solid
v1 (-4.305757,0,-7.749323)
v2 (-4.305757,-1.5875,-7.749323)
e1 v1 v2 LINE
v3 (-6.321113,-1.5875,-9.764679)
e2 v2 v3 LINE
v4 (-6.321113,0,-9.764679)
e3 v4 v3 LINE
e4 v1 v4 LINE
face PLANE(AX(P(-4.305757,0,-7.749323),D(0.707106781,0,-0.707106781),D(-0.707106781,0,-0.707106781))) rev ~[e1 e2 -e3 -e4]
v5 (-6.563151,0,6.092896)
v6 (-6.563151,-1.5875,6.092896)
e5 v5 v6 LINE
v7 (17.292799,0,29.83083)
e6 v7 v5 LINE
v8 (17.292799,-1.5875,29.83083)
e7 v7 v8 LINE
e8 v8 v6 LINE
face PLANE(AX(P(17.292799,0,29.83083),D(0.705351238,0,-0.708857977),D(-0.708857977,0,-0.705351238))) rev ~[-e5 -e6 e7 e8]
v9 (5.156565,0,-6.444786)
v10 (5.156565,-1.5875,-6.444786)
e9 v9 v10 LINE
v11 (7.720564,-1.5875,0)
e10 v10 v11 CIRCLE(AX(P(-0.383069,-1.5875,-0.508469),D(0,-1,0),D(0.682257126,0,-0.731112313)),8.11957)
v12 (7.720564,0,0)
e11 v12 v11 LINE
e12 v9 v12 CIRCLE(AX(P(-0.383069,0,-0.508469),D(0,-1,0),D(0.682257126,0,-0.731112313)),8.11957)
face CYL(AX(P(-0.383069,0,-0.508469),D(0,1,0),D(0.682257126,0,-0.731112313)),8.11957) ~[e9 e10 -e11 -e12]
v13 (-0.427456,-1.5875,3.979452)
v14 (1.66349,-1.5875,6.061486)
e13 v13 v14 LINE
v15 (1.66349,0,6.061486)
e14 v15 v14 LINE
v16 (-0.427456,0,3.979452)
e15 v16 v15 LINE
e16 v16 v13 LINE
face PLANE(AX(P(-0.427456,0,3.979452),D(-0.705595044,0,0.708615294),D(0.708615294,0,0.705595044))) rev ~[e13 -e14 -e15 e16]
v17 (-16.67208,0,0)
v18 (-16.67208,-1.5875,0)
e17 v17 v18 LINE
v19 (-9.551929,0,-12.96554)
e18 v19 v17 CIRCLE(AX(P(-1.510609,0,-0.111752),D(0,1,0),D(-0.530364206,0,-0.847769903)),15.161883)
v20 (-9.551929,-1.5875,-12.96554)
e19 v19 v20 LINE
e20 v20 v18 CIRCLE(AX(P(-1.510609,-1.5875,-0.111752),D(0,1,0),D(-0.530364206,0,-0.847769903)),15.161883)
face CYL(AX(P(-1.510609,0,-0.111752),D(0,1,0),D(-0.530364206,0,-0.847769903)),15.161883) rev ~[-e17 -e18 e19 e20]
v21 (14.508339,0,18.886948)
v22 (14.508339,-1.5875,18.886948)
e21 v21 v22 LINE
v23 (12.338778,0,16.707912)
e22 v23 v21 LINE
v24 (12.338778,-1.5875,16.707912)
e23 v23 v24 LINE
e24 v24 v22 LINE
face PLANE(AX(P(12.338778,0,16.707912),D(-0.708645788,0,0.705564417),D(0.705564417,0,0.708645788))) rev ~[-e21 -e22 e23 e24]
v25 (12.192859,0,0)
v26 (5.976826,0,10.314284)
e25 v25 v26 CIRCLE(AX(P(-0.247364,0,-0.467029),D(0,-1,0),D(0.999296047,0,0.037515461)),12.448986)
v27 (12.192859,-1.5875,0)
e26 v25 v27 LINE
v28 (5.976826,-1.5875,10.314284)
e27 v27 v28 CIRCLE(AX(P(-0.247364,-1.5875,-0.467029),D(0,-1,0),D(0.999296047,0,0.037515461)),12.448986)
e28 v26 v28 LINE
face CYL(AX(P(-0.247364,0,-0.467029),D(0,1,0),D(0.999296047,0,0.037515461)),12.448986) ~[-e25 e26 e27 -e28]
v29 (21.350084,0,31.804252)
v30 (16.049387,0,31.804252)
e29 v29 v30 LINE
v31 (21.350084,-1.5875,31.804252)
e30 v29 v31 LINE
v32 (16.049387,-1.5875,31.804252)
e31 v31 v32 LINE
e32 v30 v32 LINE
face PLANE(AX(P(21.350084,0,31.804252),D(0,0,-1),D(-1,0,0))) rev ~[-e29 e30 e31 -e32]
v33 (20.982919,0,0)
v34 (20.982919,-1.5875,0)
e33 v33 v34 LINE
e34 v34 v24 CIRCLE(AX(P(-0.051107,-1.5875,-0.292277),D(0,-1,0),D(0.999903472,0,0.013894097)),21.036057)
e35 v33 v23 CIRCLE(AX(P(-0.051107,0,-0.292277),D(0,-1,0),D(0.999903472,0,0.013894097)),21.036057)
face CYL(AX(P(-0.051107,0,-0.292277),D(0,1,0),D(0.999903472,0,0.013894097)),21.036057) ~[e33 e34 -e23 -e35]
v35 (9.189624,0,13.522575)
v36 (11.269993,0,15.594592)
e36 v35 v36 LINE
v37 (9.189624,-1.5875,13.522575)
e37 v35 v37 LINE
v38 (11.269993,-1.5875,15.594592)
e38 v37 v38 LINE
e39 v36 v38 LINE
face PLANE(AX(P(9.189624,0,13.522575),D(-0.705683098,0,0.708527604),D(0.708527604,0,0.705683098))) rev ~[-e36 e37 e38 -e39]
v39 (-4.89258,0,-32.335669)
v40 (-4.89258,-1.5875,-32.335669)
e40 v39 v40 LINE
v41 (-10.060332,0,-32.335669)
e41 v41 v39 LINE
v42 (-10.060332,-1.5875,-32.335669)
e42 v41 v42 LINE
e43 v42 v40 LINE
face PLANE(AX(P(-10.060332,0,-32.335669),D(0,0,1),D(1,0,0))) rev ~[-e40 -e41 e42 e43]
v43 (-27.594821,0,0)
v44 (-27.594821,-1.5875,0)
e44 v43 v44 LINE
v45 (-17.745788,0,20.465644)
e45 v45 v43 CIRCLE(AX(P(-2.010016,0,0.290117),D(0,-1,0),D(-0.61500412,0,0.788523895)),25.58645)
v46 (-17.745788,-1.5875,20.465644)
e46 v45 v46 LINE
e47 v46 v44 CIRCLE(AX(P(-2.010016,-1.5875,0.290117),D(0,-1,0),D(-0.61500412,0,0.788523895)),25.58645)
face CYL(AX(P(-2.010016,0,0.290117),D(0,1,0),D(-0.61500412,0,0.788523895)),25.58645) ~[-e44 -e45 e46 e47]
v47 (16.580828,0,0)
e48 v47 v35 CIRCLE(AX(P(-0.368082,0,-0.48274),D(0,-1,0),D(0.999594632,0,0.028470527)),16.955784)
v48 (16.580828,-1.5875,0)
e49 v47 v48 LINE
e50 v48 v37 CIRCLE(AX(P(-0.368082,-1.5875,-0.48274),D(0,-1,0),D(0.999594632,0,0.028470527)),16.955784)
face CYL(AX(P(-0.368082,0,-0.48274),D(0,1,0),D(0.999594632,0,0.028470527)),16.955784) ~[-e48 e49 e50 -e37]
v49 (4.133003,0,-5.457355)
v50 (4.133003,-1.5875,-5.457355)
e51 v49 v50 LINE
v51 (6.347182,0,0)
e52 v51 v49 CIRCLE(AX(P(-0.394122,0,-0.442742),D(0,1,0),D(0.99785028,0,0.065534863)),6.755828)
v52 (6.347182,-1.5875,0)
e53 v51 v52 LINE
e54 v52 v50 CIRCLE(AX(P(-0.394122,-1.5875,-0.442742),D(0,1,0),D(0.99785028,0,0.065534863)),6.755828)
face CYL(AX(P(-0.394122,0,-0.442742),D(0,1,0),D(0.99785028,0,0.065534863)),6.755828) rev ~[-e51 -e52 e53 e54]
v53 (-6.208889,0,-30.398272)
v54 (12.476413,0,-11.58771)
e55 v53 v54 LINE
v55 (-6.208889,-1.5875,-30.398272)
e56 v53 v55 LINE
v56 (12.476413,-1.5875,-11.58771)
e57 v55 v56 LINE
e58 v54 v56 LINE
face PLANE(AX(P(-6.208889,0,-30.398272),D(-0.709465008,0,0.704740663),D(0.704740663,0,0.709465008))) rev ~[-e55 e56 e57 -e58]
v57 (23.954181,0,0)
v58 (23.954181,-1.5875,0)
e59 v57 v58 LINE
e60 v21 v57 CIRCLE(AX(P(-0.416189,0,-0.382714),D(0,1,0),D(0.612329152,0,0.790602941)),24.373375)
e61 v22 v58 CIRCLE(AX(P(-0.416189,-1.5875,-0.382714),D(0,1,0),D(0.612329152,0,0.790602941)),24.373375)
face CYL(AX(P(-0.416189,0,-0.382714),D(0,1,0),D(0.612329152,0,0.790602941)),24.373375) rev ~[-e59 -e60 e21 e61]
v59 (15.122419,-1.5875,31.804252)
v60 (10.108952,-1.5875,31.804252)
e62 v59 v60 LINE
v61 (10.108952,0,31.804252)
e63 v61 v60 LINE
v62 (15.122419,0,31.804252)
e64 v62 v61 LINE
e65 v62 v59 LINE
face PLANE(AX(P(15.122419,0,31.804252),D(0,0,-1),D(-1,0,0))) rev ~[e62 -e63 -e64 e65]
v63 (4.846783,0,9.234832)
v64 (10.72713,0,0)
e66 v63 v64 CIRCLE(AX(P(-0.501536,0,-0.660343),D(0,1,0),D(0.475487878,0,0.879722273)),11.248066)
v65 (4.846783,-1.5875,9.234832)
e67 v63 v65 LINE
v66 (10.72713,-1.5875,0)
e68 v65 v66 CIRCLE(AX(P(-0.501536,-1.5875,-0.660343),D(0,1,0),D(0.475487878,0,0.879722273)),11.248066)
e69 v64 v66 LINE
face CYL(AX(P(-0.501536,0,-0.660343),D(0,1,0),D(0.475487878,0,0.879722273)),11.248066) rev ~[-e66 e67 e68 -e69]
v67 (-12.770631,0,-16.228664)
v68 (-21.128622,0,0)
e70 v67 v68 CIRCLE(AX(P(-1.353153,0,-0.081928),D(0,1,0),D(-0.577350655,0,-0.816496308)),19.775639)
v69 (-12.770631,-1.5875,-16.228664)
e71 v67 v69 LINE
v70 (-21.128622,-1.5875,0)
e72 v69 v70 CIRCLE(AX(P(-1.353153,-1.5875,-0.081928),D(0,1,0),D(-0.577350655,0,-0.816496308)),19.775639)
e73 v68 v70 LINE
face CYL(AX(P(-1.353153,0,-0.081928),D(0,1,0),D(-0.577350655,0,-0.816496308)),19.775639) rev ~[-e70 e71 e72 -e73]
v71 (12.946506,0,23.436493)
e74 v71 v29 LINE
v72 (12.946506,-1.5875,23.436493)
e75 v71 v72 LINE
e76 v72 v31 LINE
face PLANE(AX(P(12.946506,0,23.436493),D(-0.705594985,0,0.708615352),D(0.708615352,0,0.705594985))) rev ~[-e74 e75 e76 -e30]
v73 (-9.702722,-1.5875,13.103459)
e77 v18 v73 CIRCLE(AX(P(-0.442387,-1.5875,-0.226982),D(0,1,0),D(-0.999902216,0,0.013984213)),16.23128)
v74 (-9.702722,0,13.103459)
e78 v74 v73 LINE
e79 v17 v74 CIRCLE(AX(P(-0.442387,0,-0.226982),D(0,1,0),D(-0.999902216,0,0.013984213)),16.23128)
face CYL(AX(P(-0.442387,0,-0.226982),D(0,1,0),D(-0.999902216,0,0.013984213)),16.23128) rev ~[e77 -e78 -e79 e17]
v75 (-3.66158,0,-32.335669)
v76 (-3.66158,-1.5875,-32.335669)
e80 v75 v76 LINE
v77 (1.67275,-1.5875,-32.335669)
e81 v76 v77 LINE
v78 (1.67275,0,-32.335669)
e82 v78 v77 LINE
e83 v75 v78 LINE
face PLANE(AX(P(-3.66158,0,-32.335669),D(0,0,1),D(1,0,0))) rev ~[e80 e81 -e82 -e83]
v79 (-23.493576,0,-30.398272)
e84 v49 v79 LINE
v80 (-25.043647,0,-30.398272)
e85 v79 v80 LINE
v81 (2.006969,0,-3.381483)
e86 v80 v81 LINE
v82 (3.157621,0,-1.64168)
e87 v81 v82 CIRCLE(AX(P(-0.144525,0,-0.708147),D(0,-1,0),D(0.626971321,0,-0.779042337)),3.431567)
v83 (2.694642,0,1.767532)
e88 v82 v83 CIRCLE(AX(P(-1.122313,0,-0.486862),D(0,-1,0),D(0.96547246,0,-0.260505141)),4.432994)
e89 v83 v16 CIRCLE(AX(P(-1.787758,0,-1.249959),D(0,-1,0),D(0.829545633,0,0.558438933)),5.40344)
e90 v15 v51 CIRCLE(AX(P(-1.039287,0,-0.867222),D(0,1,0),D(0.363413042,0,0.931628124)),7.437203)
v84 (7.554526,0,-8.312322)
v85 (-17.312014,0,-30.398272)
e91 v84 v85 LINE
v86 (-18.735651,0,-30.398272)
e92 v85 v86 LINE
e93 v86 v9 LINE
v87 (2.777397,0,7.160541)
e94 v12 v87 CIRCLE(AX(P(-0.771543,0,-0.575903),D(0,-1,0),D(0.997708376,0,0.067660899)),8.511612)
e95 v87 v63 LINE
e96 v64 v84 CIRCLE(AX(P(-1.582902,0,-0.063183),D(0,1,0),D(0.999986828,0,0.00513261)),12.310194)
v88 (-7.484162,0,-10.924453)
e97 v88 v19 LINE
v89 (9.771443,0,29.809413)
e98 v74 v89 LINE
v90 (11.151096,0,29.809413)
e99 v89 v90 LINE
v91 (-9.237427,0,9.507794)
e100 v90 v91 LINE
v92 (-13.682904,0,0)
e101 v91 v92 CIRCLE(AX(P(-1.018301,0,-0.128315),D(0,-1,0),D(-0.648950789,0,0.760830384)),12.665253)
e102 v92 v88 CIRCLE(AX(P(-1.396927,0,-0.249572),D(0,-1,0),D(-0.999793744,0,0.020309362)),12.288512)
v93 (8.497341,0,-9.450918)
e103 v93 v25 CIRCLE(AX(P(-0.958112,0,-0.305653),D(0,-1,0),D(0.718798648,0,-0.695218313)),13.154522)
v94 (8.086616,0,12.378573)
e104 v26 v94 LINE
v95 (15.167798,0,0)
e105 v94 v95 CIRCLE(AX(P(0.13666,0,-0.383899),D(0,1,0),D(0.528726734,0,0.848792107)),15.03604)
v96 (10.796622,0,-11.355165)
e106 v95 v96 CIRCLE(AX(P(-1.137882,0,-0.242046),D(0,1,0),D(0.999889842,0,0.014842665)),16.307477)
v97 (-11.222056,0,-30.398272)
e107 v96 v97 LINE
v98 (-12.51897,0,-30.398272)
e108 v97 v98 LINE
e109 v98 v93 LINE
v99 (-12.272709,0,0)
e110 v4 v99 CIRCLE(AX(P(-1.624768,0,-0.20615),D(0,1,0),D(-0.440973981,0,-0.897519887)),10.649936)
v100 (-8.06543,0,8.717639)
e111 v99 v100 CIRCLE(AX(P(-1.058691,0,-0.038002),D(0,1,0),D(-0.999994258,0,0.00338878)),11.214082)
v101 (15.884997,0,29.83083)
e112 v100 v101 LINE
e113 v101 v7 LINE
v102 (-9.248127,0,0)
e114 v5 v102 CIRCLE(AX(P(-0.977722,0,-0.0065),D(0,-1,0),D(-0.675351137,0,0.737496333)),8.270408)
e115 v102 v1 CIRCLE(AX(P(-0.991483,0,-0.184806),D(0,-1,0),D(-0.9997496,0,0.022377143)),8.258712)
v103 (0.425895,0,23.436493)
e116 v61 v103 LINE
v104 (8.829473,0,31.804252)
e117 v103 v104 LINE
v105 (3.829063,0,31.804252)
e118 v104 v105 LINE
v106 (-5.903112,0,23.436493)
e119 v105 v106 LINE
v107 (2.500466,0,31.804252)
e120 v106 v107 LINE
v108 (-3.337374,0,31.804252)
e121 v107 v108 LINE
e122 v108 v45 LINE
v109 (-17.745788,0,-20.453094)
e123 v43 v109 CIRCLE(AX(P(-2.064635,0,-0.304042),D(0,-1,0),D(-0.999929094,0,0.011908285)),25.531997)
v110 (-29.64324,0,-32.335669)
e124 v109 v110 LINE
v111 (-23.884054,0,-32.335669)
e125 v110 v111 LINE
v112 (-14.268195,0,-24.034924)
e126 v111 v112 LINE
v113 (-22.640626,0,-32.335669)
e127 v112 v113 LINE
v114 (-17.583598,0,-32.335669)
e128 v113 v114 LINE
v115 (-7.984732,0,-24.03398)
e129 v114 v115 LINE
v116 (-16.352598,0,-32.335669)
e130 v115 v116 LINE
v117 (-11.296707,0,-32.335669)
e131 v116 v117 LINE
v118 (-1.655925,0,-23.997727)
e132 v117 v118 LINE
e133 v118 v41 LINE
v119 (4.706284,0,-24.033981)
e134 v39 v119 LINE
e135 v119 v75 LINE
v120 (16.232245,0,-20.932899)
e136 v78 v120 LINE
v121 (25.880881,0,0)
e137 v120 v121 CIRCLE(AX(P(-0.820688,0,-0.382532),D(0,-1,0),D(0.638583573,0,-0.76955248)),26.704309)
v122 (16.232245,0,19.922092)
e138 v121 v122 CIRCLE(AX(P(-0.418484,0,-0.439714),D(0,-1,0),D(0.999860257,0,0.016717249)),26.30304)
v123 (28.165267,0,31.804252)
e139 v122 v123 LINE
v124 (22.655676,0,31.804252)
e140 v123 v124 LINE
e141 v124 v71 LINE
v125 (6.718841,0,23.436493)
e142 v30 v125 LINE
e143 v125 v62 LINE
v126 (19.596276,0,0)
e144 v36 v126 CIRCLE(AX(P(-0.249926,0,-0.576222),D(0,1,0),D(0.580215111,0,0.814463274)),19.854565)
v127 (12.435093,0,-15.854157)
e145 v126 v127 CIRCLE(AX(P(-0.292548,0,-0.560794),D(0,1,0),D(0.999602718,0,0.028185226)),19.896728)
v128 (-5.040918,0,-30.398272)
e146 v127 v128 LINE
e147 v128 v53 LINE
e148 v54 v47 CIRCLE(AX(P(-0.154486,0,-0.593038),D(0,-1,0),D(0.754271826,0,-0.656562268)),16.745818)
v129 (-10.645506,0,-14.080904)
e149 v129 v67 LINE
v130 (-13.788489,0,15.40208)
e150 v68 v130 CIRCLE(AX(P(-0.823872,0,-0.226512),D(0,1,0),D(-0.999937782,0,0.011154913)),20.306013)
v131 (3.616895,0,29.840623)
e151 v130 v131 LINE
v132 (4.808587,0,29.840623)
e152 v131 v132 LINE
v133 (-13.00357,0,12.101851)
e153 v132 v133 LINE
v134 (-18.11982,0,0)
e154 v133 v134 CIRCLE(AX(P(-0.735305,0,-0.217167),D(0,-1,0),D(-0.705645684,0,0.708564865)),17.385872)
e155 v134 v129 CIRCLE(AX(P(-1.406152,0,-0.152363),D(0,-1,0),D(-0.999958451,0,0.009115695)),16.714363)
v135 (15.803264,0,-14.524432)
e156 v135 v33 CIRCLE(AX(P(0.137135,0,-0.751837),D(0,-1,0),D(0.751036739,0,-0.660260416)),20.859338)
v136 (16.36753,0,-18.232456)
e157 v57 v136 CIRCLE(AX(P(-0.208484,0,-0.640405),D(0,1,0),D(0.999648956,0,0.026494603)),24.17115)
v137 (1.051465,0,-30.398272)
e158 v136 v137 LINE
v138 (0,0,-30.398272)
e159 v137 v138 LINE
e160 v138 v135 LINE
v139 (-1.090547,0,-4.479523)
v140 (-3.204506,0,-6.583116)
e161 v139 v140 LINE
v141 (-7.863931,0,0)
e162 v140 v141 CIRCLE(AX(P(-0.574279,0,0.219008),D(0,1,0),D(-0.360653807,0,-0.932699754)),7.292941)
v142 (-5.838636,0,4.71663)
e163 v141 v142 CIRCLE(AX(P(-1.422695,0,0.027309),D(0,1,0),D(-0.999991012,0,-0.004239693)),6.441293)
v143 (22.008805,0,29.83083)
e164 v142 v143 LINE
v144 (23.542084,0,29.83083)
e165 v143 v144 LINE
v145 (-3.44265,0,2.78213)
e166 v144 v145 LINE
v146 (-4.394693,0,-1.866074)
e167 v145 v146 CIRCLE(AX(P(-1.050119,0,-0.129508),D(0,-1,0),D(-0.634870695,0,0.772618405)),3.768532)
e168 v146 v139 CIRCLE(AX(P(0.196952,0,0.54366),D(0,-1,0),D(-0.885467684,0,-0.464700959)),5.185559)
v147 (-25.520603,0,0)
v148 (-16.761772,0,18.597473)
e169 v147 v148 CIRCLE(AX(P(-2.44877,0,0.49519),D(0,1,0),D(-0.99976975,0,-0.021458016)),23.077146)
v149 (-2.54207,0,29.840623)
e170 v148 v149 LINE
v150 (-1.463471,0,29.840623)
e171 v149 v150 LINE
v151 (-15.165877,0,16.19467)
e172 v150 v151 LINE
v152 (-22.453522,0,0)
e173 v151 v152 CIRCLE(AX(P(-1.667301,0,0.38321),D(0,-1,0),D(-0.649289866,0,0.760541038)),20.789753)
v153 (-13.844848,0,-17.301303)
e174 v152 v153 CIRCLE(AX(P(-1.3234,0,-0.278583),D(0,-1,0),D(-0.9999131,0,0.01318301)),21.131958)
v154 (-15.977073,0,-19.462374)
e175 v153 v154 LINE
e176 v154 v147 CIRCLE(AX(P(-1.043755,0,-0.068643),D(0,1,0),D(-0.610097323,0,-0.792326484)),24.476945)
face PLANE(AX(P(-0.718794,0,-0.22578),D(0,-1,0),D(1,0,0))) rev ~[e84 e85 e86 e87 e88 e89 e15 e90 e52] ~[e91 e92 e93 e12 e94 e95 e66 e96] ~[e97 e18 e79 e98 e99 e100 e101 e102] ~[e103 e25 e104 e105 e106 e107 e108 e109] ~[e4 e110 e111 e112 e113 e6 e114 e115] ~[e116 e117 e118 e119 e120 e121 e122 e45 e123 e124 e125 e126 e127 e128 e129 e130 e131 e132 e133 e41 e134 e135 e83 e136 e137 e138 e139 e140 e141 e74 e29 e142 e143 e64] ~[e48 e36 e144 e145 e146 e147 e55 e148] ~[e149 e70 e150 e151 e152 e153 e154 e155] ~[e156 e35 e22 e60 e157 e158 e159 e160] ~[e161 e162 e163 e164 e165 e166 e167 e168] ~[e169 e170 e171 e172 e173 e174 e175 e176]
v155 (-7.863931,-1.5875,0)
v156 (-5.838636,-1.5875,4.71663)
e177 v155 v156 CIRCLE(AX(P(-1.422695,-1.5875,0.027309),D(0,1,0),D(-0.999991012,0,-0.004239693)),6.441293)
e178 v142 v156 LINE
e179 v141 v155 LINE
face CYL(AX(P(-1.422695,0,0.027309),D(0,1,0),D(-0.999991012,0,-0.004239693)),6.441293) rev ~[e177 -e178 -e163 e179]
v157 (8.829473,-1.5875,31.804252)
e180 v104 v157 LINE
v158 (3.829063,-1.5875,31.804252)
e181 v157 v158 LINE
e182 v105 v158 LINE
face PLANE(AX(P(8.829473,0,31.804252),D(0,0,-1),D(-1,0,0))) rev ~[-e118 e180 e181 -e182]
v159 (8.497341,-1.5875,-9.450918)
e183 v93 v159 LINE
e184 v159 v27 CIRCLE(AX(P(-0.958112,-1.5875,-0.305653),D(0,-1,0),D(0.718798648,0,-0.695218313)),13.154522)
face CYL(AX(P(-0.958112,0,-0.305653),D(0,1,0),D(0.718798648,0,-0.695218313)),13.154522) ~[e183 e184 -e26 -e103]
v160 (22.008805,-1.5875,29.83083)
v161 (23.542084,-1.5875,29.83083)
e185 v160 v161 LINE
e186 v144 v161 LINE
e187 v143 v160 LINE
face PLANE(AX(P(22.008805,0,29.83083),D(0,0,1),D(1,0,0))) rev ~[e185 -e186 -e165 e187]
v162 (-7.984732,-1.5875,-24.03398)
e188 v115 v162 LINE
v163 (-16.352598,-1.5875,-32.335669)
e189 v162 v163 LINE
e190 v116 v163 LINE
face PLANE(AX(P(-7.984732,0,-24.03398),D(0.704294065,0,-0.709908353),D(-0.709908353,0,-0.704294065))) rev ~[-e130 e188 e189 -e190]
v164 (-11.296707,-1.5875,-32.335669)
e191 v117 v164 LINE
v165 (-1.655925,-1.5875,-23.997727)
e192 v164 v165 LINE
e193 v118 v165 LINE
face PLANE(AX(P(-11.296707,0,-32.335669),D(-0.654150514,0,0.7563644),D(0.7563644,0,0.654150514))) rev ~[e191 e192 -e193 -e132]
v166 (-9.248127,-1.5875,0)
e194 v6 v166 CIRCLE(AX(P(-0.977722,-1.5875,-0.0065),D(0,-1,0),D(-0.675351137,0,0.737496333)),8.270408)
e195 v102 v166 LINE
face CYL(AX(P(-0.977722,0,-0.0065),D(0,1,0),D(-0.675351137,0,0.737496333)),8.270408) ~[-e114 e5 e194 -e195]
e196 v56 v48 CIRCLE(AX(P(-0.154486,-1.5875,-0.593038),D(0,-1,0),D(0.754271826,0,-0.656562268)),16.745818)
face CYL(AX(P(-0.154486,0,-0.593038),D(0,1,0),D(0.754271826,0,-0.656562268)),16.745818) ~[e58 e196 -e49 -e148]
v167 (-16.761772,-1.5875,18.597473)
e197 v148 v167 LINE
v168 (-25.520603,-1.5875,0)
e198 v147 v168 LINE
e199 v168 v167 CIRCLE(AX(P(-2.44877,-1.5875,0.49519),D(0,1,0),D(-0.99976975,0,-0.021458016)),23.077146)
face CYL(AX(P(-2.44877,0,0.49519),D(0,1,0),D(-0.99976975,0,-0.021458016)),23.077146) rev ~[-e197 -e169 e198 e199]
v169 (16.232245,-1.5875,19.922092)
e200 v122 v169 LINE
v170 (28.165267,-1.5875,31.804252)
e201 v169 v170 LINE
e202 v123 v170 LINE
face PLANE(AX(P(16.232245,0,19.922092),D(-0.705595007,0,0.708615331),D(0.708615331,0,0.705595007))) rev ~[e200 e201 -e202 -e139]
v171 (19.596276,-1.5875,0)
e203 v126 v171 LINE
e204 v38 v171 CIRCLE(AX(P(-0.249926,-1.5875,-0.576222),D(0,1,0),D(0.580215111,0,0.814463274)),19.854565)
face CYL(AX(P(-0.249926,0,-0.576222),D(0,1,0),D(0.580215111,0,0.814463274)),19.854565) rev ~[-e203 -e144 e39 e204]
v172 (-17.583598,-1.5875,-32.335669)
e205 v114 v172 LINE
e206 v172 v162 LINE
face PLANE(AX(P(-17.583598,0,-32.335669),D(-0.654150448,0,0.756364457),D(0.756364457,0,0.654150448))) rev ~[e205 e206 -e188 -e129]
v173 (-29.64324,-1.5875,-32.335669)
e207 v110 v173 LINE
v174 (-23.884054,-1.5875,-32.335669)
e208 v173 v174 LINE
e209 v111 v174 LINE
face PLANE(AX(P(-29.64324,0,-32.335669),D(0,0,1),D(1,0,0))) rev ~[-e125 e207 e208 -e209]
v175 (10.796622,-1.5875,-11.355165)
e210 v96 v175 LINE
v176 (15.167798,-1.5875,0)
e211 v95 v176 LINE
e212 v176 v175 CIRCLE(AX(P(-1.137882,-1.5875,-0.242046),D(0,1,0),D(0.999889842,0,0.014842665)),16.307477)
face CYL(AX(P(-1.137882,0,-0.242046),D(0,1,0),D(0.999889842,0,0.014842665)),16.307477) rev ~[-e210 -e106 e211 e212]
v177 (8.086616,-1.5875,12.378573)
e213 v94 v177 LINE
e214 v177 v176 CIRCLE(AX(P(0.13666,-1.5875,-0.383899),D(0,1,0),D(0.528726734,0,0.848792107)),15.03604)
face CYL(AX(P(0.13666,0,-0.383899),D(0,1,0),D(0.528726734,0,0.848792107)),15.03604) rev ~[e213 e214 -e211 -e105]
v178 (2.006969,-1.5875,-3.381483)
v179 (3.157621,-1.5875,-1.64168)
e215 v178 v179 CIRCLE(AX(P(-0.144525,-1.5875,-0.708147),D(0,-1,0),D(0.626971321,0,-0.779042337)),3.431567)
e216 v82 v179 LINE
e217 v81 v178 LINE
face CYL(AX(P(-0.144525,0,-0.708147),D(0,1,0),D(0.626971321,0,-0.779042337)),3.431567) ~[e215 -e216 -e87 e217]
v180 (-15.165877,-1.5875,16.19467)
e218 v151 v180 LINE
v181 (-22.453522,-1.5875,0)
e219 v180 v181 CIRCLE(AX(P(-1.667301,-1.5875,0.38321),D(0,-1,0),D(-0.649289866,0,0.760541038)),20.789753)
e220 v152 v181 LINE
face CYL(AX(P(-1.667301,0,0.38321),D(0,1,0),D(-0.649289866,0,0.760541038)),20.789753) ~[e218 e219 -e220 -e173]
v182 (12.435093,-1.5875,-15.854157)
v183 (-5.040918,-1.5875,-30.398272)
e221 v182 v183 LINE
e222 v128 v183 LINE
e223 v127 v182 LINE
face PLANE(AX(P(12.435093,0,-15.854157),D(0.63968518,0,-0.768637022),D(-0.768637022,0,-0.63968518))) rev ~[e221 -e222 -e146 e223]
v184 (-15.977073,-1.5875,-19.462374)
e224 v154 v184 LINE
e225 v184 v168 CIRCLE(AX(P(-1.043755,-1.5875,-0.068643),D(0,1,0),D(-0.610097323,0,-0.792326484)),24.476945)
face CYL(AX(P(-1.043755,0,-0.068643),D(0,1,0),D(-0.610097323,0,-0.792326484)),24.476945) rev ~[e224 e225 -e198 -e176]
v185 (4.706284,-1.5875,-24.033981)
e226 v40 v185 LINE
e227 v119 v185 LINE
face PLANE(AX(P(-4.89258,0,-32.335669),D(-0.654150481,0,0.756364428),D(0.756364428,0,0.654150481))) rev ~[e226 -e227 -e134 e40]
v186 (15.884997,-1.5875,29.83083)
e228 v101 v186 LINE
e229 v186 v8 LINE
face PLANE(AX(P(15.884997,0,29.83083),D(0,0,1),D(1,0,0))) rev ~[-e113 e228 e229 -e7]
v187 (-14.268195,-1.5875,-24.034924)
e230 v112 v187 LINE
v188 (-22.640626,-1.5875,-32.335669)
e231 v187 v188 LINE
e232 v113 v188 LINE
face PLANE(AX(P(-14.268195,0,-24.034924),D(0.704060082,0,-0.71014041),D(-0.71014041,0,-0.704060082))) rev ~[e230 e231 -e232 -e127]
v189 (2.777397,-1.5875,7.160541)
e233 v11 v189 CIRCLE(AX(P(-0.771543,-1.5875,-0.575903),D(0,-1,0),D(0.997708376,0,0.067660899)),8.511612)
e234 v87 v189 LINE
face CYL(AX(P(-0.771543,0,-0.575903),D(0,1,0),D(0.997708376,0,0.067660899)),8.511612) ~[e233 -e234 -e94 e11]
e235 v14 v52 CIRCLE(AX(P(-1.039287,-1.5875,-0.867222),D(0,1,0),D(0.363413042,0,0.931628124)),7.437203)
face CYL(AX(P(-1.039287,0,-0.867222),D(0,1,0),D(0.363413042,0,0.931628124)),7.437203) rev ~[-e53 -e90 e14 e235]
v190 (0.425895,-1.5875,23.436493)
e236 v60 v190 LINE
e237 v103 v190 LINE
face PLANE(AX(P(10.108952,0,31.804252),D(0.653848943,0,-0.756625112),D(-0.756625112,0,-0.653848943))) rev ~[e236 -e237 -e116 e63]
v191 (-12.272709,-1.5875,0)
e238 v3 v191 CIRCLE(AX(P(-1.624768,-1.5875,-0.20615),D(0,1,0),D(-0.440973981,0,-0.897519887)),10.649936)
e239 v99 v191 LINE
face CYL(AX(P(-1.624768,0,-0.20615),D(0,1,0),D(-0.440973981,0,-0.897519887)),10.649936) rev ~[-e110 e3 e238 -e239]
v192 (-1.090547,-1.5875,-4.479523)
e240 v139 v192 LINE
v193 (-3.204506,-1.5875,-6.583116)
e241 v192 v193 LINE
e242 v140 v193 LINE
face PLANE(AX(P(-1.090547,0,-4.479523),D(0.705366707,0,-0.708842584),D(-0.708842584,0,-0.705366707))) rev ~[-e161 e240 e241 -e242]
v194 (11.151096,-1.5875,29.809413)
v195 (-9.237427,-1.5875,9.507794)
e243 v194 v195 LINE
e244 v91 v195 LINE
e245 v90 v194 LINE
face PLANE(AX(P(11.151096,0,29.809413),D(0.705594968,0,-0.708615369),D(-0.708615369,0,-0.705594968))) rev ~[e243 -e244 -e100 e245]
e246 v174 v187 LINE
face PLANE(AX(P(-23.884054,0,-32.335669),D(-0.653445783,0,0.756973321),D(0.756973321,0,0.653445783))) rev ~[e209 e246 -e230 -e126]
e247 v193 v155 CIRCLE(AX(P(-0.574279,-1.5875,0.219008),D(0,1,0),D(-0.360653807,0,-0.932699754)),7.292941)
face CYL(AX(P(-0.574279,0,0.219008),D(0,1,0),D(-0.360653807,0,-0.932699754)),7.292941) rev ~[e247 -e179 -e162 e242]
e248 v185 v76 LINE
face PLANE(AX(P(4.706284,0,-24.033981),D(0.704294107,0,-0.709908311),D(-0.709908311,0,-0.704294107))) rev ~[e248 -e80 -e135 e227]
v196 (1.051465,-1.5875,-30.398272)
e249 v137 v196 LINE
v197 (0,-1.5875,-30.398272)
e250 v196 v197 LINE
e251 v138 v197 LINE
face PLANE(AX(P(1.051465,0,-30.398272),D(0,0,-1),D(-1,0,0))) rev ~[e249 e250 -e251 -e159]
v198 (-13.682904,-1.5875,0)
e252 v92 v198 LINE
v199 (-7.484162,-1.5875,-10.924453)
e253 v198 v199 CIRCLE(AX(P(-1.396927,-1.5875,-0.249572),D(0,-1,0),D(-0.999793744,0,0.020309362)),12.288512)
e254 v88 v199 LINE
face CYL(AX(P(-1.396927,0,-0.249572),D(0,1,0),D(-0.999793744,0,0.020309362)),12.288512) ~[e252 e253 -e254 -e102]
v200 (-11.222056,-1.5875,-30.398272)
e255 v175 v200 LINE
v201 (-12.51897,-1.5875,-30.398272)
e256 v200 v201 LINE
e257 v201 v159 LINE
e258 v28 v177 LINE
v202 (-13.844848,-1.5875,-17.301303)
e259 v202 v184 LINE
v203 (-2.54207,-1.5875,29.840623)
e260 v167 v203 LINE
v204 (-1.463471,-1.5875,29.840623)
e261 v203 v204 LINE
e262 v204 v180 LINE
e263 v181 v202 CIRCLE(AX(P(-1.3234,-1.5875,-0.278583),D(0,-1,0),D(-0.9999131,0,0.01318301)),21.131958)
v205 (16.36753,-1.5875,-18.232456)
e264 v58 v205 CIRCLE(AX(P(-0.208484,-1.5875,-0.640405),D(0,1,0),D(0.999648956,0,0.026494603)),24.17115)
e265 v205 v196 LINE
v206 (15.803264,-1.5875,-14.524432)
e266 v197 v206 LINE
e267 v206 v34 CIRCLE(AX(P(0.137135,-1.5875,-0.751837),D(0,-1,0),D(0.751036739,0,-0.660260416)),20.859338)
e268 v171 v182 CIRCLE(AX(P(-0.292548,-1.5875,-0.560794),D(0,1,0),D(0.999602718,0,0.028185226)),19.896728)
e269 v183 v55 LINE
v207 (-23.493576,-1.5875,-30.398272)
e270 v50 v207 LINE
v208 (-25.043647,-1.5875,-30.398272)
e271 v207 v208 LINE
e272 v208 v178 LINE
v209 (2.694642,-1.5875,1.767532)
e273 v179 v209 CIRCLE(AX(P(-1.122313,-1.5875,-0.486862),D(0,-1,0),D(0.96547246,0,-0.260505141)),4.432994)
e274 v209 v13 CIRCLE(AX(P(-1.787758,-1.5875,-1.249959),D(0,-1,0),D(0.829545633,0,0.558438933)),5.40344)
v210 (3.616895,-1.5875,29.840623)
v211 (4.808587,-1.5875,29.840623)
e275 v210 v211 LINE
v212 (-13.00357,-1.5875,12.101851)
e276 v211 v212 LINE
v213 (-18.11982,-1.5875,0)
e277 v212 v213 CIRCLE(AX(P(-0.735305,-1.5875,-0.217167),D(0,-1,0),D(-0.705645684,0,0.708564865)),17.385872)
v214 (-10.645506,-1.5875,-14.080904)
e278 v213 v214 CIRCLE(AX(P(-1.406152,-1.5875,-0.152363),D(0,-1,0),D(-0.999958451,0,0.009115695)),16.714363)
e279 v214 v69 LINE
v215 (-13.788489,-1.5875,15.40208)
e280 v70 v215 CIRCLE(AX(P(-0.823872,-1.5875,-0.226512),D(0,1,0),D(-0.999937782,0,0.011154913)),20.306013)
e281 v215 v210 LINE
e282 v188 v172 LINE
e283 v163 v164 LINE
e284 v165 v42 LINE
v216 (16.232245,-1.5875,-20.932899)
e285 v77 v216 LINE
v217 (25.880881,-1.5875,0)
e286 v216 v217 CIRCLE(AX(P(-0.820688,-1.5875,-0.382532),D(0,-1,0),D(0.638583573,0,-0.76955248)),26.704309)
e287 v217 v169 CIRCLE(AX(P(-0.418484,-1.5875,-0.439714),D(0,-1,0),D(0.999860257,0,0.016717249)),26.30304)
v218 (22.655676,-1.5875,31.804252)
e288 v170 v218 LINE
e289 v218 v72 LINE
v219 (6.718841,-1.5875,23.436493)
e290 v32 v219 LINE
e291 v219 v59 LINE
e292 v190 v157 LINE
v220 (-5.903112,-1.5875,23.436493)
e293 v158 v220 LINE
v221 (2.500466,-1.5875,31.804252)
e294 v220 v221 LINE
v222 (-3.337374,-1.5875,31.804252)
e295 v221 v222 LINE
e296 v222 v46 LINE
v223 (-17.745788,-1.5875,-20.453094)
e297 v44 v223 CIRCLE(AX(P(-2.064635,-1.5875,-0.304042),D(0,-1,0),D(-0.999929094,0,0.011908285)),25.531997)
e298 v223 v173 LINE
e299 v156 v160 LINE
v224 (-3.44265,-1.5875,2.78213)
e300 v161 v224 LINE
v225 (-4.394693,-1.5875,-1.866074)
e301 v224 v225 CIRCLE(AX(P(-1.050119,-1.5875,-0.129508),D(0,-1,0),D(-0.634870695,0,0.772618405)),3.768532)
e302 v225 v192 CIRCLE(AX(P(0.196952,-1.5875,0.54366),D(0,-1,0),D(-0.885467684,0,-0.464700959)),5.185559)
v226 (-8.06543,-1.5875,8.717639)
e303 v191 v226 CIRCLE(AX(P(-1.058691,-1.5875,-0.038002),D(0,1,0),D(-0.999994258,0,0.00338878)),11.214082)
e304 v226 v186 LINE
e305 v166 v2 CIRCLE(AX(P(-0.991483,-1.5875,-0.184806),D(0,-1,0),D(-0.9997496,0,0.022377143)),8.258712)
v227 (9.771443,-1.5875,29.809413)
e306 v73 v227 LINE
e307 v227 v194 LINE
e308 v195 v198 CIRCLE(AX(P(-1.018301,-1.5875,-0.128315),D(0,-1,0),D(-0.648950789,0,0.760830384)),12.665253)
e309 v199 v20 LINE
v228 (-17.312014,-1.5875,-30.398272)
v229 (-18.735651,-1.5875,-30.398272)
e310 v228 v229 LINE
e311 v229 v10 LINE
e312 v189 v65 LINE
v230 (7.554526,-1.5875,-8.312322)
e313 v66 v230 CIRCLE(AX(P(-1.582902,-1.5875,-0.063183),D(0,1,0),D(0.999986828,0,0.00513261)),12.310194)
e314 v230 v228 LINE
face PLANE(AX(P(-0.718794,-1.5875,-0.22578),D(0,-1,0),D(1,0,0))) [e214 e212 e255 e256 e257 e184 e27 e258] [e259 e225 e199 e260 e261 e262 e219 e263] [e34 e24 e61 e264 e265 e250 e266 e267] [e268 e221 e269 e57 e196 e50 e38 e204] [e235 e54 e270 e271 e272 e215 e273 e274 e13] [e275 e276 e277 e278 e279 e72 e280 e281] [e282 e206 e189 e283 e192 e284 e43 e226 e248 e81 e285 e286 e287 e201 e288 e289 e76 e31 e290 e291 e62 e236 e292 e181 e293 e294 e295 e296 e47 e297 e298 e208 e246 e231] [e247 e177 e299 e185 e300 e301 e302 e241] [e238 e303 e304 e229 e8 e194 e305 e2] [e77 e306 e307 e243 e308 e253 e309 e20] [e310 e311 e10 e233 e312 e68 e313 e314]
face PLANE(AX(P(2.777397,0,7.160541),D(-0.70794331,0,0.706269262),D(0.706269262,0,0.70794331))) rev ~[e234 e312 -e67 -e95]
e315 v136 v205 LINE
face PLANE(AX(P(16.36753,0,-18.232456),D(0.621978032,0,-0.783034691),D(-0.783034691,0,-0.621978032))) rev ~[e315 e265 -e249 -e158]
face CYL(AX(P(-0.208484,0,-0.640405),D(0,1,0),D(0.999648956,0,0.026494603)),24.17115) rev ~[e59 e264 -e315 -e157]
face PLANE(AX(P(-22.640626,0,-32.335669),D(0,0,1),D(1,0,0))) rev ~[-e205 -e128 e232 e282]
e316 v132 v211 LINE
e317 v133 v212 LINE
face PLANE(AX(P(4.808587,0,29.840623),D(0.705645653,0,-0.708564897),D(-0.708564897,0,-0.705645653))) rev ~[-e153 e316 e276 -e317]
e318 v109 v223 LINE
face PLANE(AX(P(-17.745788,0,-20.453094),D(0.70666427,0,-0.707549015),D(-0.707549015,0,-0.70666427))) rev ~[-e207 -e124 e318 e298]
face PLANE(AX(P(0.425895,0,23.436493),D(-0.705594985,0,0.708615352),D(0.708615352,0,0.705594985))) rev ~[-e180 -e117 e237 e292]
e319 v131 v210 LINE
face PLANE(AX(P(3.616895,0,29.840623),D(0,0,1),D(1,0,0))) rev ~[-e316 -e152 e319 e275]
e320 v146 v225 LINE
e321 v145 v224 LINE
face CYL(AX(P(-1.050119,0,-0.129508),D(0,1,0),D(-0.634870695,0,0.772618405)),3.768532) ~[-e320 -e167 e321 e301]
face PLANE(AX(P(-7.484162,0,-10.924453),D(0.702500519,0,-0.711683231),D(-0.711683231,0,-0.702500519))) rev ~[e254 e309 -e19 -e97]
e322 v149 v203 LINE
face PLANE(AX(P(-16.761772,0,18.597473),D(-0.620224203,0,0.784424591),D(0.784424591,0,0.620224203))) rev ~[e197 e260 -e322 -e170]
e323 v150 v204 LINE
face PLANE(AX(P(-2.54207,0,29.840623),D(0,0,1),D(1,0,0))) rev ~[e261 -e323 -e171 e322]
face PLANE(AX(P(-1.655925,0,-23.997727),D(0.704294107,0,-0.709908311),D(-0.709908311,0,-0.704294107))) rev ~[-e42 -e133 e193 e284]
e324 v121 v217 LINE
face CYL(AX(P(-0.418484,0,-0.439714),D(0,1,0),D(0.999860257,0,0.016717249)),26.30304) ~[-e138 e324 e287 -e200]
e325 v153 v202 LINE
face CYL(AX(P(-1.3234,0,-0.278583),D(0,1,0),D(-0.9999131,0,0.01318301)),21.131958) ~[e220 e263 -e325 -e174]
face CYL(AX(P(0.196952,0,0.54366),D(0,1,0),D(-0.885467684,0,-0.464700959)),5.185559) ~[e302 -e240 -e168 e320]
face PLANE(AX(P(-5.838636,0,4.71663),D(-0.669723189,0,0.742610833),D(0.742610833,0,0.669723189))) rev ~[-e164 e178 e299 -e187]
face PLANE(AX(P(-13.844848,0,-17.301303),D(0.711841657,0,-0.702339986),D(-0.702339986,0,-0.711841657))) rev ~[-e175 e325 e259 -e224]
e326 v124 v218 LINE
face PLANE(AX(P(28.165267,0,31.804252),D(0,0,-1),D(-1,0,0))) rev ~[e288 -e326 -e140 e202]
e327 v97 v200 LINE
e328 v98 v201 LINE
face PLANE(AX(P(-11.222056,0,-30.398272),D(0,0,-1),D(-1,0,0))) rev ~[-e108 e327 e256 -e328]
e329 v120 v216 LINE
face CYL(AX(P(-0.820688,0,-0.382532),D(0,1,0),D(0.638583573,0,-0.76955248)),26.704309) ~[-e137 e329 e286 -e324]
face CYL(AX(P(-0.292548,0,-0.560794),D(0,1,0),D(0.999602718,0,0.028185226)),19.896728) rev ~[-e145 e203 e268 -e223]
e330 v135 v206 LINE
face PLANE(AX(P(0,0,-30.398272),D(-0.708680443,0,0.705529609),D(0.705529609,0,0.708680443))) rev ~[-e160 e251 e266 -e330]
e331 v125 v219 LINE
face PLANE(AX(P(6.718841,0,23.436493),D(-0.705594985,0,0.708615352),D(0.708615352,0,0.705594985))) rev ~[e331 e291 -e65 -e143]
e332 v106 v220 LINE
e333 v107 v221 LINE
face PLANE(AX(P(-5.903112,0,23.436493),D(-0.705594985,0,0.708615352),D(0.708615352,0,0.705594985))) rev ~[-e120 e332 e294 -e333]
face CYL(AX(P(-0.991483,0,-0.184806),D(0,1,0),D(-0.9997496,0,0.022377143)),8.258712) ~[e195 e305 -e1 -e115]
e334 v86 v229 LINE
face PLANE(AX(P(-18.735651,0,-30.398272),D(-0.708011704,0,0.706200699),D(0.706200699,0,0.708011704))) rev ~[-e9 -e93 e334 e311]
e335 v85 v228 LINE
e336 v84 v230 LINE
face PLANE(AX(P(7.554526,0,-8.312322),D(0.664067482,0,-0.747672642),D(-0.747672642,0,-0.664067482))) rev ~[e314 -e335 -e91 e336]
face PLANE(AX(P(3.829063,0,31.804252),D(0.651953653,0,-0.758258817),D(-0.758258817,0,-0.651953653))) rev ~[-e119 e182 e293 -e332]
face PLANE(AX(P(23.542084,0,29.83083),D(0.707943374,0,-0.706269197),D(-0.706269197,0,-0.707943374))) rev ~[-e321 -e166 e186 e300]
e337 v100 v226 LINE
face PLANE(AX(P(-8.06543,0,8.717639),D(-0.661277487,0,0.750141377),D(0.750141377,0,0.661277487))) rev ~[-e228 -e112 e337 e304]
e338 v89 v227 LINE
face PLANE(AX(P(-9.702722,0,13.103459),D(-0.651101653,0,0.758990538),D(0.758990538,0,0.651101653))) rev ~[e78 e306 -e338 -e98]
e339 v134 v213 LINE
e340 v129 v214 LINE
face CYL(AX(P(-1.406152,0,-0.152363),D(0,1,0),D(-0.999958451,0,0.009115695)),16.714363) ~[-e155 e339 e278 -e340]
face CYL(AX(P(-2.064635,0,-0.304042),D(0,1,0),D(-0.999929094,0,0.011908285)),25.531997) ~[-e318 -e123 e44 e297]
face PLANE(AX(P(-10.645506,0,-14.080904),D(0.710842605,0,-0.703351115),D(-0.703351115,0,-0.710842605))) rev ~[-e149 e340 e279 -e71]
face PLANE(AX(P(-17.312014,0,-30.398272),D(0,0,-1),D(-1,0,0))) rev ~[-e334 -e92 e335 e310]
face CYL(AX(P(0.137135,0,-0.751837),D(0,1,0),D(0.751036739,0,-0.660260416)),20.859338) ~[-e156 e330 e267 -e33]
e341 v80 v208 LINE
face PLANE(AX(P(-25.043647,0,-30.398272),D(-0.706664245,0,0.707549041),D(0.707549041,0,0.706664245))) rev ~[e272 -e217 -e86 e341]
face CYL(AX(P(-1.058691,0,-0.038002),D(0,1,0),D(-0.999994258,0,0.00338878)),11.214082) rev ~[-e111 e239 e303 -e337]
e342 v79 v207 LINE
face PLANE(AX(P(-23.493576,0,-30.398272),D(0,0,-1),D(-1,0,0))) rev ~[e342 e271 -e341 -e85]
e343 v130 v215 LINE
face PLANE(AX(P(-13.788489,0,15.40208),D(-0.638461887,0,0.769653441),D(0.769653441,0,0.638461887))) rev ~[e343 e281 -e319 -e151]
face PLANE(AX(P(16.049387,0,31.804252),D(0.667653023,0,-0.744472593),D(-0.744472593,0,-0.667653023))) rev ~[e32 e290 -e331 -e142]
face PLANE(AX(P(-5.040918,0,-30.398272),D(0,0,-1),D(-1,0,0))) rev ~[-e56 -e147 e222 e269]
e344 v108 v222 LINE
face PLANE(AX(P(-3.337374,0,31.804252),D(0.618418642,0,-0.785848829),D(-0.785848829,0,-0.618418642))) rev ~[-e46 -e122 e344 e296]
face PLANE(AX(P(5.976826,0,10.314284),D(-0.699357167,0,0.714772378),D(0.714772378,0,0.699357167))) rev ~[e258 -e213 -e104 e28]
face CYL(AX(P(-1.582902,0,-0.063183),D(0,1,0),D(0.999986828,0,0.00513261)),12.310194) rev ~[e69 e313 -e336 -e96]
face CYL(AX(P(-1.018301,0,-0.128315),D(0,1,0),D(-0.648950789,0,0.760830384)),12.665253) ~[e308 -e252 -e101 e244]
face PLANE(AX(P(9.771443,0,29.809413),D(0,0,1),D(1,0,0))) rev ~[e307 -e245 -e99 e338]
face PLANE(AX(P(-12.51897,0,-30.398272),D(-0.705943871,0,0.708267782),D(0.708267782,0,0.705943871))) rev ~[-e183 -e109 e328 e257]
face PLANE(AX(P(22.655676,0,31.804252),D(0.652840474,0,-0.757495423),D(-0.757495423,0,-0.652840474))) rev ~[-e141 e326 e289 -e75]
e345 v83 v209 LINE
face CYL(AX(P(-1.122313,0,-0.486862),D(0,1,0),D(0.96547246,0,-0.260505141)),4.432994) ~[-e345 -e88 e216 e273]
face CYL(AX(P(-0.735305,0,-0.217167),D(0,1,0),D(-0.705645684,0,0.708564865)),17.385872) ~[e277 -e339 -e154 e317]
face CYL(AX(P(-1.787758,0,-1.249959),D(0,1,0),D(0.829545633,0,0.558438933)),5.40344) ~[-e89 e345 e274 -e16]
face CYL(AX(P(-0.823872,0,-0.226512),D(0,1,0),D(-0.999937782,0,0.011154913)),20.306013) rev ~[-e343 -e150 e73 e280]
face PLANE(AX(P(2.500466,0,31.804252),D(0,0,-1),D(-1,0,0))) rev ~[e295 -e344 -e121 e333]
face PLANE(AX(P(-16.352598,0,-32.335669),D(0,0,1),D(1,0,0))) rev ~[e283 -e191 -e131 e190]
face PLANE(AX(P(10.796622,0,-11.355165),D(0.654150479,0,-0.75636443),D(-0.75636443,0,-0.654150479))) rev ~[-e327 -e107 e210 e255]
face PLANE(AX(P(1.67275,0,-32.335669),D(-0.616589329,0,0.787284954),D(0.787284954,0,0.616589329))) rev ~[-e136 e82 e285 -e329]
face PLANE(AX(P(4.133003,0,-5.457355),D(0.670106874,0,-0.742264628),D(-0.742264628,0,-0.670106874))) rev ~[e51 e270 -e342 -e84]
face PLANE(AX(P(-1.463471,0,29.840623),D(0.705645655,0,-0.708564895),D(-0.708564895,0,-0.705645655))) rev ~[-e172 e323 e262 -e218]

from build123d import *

# Parameters (mm, degrees)
F1_DEPTH = 1.5875


with BuildPart() as f1:
    # F0 (on Front) → F1 (new body)
    with BuildSketch(Plane.XZ):
        with BuildLine():
            Line((2.500466, 31.804252), (-3.337374, 31.804252))
            Line((-3.337374, 31.804252), (-17.745788, 20.465644))
            ThreePointArc((-17.745788, 20.465644), (-25.065561, 11.385533), (-27.594821, 0))
            ThreePointArc((-27.594821, 0), (-25.068458, -11.38136), (-17.745788, -20.453094))
            Line((-17.745788, -20.453094), (-29.64324, -32.335669))
            Line((-29.64324, -32.335669), (-23.884054, -32.335669))
            Line((-23.884054, -32.335669), (-14.268195, -24.034924))
            Line((-14.268195, -24.034924), (-22.640626, -32.335669))
            Line((-22.640626, -32.335669), (-17.583598, -32.335669))
            Line((-17.583598, -32.335669), (-7.984732, -24.03398))
            Line((-7.984732, -24.03398), (-16.352598, -32.335669))
            Line((-16.352598, -32.335669), (-11.296707, -32.335669))
            Line((-11.296707, -32.335669), (-1.655925, -23.997727))
            Line((-1.655925, -23.997727), (-10.060332, -32.335669))
            Line((-10.060332, -32.335669), (-4.89258, -32.335669))
            Line((-4.89258, -32.335669), (4.706284, -24.033981))
            Line((4.706284, -24.033981), (-3.66158, -32.335669))
            Line((-3.66158, -32.335669), (1.67275, -32.335669))
            Line((1.67275, -32.335669), (16.232245, -20.932899))
            ThreePointArc((16.232245, -20.932899), (23.431336, -11.561058), (25.880881, 0))
            ThreePointArc((25.880881, 0), (23.254287, 11.025444), (16.232245, 19.922092))
            Line((16.232245, 19.922092), (28.165267, 31.804252))
            Line((28.165267, 31.804252), (22.655676, 31.804252))
            Line((22.655676, 31.804252), (12.946506, 23.436493))
            Line((12.946506, 23.436493), (21.350084, 31.804252))
            Line((21.350084, 31.804252), (16.049387, 31.804252))
            Line((16.049387, 31.804252), (6.718841, 23.436493))
            Line((6.718841, 23.436493), (15.122419, 31.804252))
            Line((15.122419, 31.804252), (10.108952, 31.804252))
            Line((10.108952, 31.804252), (0.425895, 23.436493))
            Line((0.425895, 23.436493), (8.829473, 31.804252))
            Line((8.829473, 31.804252), (3.829063, 31.804252))
            Line((3.829063, 31.804252), (-5.903112, 23.436493))
            Line((-5.903112, 23.436493), (2.500466, 31.804252))
        make_face()
        with BuildLine():
            ThreePointArc((2.694642, 1.767532), (1.335932, 3.159091), (-0.427456, 3.979452))
            Line((-0.427456, 3.979452), (1.66349, 6.061486))
            ThreePointArc((1.66349, 6.061486), (4.845747, 3.680126), (6.347182, 0))
            ThreePointArc((6.347182, 0), (5.866074, -2.982653), (4.133003, -5.457355))
            Line((4.133003, -5.457355), (-23.493576, -30.398272))
            Line((-23.493576, -30.398272), (-25.043647, -30.398272))
            Line((-25.043647, -30.398272), (2.006969, -3.381483))
            ThreePointArc((2.006969, -3.381483), (2.71769, -2.601128), (3.157621, -1.64168))
            ThreePointArc((3.157621, -1.64168), (3.270361, 0.109673), (2.694642, 1.767532))
        make_face(mode=Mode.SUBTRACT)
        with BuildLine():
            ThreePointArc((7.720564, 0), (6.233101, 4.259643), (2.777397, 7.160541))
            Line((2.777397, 7.160541), (4.846783, 9.234832))
            ThreePointArc((4.846783, 9.234832), (8.986332, 5.381127), (10.72713, 0))
            ThreePointArc((10.72713, 0), (9.918057, -4.45281), (7.554526, -8.312322))
            Line((7.554526, -8.312322), (-17.312014, -30.398272))
            Line((-17.312014, -30.398272), (-18.735651, -30.398272))
            Line((-18.735651, -30.398272), (5.156565, -6.444786))
            ThreePointArc((5.156565, -6.444786), (7.161366, -3.509953), (7.720564, 0))
        make_face(mode=Mode.SUBTRACT)
        with BuildLine():
            ThreePointArc((8.497341, -9.450918), (11.293115, -5.096154), (12.192859, 0))
            ThreePointArc((12.192859, 0), (10.415009, 5.958783), (5.976826, 10.314284))
            Line((5.976826, 10.314284), (8.086616, 12.378573))
            ThreePointArc((8.086616, 12.378573), (13.188094, 7.082195), (15.167798, 0))
            ThreePointArc((15.167798, 0), (14.08092, -6.100532), (10.796622, -11.355165))
            Line((10.796622, -11.355165), (-11.222056, -30.398272))
            Line((-11.222056, -30.398272), (-12.51897, -30.398272))
            Line((-12.51897, -30.398272), (8.497341, -9.450918))
        make_face(mode=Mode.SUBTRACT)
        with BuildLine():
            Line((-5.040918, -30.398272), (-6.208889, -30.398272))
            Line((-6.208889, -30.398272), (12.476413, -11.58771))
            ThreePointArc((12.476413, -11.58771), (15.630392, -6.184107), (16.580828, 0))
            ThreePointArc((16.580828, 0), (14.510264, 7.649505), (9.189624, 13.522575))
            Line((9.189624, 13.522575), (11.269993, 15.594592))
            ThreePointArc((11.269993, 15.594592), (17.264531, 8.775118), (19.596276, 0))
            ThreePointArc((19.596276, 0), (17.840213, -8.751202), (12.435093, -15.854157))
            Line((12.435093, -15.854157), (-5.040918, -30.398272))
        make_face(mode=Mode.SUBTRACT)
        with BuildLine():
            ThreePointArc((20.982919, 0), (18.632523, 9.374038), (12.338778, 16.707912))
            Line((12.338778, 16.707912), (14.508339, 18.886948))
            ThreePointArc((14.508339, 18.886948), (21.382927, 10.519577), (23.954181, 0))
            ThreePointArc((23.954181, 0), (22.107779, -9.926357), (16.36753, -18.232456))
            Line((16.36753, -18.232456), (1.051465, -30.398272))
            Line((1.051465, -30.398272), (0, -30.398272))
            Line((0, -30.398272), (15.803264, -14.524432))
            ThreePointArc((15.803264, -14.524432), (19.78452, -7.758422), (20.982919, 0))
        make_face(mode=Mode.SUBTRACT)
        with BuildLine():
            Line((-16.761772, 18.597473), (-2.54207, 29.840623))
            Line((-2.54207, 29.840623), (-1.463471, 29.840623))
            Line((-1.463471, 29.840623), (-15.165877, 16.19467))
            ThreePointArc((-15.165877, 16.19467), (-20.625905, 8.914632), (-22.453522, 0))
            ThreePointArc((-22.453522, 0), (-20.242724, -9.692341), (-13.844848, -17.301303))
            Line((-13.844848, -17.301303), (-15.977073, -19.462374))
            ThreePointArc((-15.977073, -19.462374), (-23.020704, -10.845215), (-25.520603, 0))
            ThreePointArc((-25.520603, 0), (-23.326341, 10.327876), (-16.761772, 18.597473))
        make_face(mode=Mode.SUBTRACT)
        with BuildLine():
            Line((-13.788489, 15.40208), (3.616895, 29.840623))
            Line((3.616895, 29.840623), (4.808587, 29.840623))
            Line((4.808587, 29.840623), (-13.00357, 12.101851))
            ThreePointArc((-13.00357, 12.101851), (-16.74891, 6.552839), (-18.11982, 0))
            ThreePointArc((-18.11982, 0), (-16.169546, -7.988951), (-10.645506, -14.080904))
            Line((-10.645506, -14.080904), (-12.770631, -16.228664))
            ThreePointArc((-12.770631, -16.228664), (-18.934176, -9.136403), (-21.128622, 0))
            ThreePointArc((-21.128622, 0), (-19.154685, 8.509361), (-13.788489, 15.40208))
        make_face(mode=Mode.SUBTRACT)
        with BuildLine():
            Line((-9.702722, 13.103459), (9.771443, 29.809413))
            Line((9.771443, 29.809413), (11.151096, 29.809413))
            Line((11.151096, 29.809413), (-9.237427, 9.507794))
            ThreePointArc((-9.237427, 9.507794), (-12.491403, 5.236064), (-13.682904, 0))
            ThreePointArc((-13.682904, 0), (-12.084754, -6.314048), (-7.484162, -10.924453))
            Line((-7.484162, -10.924453), (-9.551929, -12.96554))
            ThreePointArc((-9.551929, -12.96554), (-14.800405, -7.409972), (-16.67208, 0))
            ThreePointArc((-16.67208, 0), (-14.772793, 7.394955), (-9.702722, 13.103459))
        make_face(mode=Mode.SUBTRACT)
        with BuildLine():
            Line((-8.06543, 8.717639), (15.884997, 29.83083))
            Line((15.884997, 29.83083), (17.292799, 29.83083))
            Line((17.292799, 29.83083), (-6.563151, 6.092896))
            ThreePointArc((-6.563151, 6.092896), (-8.545871, 3.328581), (-9.248127, 0))
            ThreePointArc((-9.248127, 0), (-7.954567, -4.625728), (-4.305757, -7.749323))
            Line((-4.305757, -7.749323), (-6.321113, -9.764679))
            ThreePointArc((-6.321113, -9.764679), (-10.718668, -5.748904), (-12.272709, 0))
            ThreePointArc((-12.272709, 0), (-11.158112, 4.836148), (-8.06543, 8.717639))
        make_face(mode=Mode.SUBTRACT)
        with BuildLine():
            Line((-5.838636, 4.71663), (22.008805, 29.83083))
            Line((22.008805, 29.83083), (23.542084, 29.83083))
            Line((23.542084, 29.83083), (-3.44265, 2.78213))
            ThreePointArc((-3.44265, 2.78213), (-4.742008, 0.626663), (-4.394693, -1.866074))
            ThreePointArc((-4.394693, -1.866074), (-3.019974, -3.523453), (-1.090547, -4.479523))
            Line((-1.090547, -4.479523), (-3.204506, -6.583116))
            ThreePointArc((-3.204506, -6.583116), (-6.527039, -3.994261), (-7.863931, 0))
            ThreePointArc((-7.863931, 0), (-7.341413, 2.568774), (-5.838636, 4.71663))
        make_face(mode=Mode.SUBTRACT)
    extrude(amount=F1_DEPTH)


solid = f1.part
